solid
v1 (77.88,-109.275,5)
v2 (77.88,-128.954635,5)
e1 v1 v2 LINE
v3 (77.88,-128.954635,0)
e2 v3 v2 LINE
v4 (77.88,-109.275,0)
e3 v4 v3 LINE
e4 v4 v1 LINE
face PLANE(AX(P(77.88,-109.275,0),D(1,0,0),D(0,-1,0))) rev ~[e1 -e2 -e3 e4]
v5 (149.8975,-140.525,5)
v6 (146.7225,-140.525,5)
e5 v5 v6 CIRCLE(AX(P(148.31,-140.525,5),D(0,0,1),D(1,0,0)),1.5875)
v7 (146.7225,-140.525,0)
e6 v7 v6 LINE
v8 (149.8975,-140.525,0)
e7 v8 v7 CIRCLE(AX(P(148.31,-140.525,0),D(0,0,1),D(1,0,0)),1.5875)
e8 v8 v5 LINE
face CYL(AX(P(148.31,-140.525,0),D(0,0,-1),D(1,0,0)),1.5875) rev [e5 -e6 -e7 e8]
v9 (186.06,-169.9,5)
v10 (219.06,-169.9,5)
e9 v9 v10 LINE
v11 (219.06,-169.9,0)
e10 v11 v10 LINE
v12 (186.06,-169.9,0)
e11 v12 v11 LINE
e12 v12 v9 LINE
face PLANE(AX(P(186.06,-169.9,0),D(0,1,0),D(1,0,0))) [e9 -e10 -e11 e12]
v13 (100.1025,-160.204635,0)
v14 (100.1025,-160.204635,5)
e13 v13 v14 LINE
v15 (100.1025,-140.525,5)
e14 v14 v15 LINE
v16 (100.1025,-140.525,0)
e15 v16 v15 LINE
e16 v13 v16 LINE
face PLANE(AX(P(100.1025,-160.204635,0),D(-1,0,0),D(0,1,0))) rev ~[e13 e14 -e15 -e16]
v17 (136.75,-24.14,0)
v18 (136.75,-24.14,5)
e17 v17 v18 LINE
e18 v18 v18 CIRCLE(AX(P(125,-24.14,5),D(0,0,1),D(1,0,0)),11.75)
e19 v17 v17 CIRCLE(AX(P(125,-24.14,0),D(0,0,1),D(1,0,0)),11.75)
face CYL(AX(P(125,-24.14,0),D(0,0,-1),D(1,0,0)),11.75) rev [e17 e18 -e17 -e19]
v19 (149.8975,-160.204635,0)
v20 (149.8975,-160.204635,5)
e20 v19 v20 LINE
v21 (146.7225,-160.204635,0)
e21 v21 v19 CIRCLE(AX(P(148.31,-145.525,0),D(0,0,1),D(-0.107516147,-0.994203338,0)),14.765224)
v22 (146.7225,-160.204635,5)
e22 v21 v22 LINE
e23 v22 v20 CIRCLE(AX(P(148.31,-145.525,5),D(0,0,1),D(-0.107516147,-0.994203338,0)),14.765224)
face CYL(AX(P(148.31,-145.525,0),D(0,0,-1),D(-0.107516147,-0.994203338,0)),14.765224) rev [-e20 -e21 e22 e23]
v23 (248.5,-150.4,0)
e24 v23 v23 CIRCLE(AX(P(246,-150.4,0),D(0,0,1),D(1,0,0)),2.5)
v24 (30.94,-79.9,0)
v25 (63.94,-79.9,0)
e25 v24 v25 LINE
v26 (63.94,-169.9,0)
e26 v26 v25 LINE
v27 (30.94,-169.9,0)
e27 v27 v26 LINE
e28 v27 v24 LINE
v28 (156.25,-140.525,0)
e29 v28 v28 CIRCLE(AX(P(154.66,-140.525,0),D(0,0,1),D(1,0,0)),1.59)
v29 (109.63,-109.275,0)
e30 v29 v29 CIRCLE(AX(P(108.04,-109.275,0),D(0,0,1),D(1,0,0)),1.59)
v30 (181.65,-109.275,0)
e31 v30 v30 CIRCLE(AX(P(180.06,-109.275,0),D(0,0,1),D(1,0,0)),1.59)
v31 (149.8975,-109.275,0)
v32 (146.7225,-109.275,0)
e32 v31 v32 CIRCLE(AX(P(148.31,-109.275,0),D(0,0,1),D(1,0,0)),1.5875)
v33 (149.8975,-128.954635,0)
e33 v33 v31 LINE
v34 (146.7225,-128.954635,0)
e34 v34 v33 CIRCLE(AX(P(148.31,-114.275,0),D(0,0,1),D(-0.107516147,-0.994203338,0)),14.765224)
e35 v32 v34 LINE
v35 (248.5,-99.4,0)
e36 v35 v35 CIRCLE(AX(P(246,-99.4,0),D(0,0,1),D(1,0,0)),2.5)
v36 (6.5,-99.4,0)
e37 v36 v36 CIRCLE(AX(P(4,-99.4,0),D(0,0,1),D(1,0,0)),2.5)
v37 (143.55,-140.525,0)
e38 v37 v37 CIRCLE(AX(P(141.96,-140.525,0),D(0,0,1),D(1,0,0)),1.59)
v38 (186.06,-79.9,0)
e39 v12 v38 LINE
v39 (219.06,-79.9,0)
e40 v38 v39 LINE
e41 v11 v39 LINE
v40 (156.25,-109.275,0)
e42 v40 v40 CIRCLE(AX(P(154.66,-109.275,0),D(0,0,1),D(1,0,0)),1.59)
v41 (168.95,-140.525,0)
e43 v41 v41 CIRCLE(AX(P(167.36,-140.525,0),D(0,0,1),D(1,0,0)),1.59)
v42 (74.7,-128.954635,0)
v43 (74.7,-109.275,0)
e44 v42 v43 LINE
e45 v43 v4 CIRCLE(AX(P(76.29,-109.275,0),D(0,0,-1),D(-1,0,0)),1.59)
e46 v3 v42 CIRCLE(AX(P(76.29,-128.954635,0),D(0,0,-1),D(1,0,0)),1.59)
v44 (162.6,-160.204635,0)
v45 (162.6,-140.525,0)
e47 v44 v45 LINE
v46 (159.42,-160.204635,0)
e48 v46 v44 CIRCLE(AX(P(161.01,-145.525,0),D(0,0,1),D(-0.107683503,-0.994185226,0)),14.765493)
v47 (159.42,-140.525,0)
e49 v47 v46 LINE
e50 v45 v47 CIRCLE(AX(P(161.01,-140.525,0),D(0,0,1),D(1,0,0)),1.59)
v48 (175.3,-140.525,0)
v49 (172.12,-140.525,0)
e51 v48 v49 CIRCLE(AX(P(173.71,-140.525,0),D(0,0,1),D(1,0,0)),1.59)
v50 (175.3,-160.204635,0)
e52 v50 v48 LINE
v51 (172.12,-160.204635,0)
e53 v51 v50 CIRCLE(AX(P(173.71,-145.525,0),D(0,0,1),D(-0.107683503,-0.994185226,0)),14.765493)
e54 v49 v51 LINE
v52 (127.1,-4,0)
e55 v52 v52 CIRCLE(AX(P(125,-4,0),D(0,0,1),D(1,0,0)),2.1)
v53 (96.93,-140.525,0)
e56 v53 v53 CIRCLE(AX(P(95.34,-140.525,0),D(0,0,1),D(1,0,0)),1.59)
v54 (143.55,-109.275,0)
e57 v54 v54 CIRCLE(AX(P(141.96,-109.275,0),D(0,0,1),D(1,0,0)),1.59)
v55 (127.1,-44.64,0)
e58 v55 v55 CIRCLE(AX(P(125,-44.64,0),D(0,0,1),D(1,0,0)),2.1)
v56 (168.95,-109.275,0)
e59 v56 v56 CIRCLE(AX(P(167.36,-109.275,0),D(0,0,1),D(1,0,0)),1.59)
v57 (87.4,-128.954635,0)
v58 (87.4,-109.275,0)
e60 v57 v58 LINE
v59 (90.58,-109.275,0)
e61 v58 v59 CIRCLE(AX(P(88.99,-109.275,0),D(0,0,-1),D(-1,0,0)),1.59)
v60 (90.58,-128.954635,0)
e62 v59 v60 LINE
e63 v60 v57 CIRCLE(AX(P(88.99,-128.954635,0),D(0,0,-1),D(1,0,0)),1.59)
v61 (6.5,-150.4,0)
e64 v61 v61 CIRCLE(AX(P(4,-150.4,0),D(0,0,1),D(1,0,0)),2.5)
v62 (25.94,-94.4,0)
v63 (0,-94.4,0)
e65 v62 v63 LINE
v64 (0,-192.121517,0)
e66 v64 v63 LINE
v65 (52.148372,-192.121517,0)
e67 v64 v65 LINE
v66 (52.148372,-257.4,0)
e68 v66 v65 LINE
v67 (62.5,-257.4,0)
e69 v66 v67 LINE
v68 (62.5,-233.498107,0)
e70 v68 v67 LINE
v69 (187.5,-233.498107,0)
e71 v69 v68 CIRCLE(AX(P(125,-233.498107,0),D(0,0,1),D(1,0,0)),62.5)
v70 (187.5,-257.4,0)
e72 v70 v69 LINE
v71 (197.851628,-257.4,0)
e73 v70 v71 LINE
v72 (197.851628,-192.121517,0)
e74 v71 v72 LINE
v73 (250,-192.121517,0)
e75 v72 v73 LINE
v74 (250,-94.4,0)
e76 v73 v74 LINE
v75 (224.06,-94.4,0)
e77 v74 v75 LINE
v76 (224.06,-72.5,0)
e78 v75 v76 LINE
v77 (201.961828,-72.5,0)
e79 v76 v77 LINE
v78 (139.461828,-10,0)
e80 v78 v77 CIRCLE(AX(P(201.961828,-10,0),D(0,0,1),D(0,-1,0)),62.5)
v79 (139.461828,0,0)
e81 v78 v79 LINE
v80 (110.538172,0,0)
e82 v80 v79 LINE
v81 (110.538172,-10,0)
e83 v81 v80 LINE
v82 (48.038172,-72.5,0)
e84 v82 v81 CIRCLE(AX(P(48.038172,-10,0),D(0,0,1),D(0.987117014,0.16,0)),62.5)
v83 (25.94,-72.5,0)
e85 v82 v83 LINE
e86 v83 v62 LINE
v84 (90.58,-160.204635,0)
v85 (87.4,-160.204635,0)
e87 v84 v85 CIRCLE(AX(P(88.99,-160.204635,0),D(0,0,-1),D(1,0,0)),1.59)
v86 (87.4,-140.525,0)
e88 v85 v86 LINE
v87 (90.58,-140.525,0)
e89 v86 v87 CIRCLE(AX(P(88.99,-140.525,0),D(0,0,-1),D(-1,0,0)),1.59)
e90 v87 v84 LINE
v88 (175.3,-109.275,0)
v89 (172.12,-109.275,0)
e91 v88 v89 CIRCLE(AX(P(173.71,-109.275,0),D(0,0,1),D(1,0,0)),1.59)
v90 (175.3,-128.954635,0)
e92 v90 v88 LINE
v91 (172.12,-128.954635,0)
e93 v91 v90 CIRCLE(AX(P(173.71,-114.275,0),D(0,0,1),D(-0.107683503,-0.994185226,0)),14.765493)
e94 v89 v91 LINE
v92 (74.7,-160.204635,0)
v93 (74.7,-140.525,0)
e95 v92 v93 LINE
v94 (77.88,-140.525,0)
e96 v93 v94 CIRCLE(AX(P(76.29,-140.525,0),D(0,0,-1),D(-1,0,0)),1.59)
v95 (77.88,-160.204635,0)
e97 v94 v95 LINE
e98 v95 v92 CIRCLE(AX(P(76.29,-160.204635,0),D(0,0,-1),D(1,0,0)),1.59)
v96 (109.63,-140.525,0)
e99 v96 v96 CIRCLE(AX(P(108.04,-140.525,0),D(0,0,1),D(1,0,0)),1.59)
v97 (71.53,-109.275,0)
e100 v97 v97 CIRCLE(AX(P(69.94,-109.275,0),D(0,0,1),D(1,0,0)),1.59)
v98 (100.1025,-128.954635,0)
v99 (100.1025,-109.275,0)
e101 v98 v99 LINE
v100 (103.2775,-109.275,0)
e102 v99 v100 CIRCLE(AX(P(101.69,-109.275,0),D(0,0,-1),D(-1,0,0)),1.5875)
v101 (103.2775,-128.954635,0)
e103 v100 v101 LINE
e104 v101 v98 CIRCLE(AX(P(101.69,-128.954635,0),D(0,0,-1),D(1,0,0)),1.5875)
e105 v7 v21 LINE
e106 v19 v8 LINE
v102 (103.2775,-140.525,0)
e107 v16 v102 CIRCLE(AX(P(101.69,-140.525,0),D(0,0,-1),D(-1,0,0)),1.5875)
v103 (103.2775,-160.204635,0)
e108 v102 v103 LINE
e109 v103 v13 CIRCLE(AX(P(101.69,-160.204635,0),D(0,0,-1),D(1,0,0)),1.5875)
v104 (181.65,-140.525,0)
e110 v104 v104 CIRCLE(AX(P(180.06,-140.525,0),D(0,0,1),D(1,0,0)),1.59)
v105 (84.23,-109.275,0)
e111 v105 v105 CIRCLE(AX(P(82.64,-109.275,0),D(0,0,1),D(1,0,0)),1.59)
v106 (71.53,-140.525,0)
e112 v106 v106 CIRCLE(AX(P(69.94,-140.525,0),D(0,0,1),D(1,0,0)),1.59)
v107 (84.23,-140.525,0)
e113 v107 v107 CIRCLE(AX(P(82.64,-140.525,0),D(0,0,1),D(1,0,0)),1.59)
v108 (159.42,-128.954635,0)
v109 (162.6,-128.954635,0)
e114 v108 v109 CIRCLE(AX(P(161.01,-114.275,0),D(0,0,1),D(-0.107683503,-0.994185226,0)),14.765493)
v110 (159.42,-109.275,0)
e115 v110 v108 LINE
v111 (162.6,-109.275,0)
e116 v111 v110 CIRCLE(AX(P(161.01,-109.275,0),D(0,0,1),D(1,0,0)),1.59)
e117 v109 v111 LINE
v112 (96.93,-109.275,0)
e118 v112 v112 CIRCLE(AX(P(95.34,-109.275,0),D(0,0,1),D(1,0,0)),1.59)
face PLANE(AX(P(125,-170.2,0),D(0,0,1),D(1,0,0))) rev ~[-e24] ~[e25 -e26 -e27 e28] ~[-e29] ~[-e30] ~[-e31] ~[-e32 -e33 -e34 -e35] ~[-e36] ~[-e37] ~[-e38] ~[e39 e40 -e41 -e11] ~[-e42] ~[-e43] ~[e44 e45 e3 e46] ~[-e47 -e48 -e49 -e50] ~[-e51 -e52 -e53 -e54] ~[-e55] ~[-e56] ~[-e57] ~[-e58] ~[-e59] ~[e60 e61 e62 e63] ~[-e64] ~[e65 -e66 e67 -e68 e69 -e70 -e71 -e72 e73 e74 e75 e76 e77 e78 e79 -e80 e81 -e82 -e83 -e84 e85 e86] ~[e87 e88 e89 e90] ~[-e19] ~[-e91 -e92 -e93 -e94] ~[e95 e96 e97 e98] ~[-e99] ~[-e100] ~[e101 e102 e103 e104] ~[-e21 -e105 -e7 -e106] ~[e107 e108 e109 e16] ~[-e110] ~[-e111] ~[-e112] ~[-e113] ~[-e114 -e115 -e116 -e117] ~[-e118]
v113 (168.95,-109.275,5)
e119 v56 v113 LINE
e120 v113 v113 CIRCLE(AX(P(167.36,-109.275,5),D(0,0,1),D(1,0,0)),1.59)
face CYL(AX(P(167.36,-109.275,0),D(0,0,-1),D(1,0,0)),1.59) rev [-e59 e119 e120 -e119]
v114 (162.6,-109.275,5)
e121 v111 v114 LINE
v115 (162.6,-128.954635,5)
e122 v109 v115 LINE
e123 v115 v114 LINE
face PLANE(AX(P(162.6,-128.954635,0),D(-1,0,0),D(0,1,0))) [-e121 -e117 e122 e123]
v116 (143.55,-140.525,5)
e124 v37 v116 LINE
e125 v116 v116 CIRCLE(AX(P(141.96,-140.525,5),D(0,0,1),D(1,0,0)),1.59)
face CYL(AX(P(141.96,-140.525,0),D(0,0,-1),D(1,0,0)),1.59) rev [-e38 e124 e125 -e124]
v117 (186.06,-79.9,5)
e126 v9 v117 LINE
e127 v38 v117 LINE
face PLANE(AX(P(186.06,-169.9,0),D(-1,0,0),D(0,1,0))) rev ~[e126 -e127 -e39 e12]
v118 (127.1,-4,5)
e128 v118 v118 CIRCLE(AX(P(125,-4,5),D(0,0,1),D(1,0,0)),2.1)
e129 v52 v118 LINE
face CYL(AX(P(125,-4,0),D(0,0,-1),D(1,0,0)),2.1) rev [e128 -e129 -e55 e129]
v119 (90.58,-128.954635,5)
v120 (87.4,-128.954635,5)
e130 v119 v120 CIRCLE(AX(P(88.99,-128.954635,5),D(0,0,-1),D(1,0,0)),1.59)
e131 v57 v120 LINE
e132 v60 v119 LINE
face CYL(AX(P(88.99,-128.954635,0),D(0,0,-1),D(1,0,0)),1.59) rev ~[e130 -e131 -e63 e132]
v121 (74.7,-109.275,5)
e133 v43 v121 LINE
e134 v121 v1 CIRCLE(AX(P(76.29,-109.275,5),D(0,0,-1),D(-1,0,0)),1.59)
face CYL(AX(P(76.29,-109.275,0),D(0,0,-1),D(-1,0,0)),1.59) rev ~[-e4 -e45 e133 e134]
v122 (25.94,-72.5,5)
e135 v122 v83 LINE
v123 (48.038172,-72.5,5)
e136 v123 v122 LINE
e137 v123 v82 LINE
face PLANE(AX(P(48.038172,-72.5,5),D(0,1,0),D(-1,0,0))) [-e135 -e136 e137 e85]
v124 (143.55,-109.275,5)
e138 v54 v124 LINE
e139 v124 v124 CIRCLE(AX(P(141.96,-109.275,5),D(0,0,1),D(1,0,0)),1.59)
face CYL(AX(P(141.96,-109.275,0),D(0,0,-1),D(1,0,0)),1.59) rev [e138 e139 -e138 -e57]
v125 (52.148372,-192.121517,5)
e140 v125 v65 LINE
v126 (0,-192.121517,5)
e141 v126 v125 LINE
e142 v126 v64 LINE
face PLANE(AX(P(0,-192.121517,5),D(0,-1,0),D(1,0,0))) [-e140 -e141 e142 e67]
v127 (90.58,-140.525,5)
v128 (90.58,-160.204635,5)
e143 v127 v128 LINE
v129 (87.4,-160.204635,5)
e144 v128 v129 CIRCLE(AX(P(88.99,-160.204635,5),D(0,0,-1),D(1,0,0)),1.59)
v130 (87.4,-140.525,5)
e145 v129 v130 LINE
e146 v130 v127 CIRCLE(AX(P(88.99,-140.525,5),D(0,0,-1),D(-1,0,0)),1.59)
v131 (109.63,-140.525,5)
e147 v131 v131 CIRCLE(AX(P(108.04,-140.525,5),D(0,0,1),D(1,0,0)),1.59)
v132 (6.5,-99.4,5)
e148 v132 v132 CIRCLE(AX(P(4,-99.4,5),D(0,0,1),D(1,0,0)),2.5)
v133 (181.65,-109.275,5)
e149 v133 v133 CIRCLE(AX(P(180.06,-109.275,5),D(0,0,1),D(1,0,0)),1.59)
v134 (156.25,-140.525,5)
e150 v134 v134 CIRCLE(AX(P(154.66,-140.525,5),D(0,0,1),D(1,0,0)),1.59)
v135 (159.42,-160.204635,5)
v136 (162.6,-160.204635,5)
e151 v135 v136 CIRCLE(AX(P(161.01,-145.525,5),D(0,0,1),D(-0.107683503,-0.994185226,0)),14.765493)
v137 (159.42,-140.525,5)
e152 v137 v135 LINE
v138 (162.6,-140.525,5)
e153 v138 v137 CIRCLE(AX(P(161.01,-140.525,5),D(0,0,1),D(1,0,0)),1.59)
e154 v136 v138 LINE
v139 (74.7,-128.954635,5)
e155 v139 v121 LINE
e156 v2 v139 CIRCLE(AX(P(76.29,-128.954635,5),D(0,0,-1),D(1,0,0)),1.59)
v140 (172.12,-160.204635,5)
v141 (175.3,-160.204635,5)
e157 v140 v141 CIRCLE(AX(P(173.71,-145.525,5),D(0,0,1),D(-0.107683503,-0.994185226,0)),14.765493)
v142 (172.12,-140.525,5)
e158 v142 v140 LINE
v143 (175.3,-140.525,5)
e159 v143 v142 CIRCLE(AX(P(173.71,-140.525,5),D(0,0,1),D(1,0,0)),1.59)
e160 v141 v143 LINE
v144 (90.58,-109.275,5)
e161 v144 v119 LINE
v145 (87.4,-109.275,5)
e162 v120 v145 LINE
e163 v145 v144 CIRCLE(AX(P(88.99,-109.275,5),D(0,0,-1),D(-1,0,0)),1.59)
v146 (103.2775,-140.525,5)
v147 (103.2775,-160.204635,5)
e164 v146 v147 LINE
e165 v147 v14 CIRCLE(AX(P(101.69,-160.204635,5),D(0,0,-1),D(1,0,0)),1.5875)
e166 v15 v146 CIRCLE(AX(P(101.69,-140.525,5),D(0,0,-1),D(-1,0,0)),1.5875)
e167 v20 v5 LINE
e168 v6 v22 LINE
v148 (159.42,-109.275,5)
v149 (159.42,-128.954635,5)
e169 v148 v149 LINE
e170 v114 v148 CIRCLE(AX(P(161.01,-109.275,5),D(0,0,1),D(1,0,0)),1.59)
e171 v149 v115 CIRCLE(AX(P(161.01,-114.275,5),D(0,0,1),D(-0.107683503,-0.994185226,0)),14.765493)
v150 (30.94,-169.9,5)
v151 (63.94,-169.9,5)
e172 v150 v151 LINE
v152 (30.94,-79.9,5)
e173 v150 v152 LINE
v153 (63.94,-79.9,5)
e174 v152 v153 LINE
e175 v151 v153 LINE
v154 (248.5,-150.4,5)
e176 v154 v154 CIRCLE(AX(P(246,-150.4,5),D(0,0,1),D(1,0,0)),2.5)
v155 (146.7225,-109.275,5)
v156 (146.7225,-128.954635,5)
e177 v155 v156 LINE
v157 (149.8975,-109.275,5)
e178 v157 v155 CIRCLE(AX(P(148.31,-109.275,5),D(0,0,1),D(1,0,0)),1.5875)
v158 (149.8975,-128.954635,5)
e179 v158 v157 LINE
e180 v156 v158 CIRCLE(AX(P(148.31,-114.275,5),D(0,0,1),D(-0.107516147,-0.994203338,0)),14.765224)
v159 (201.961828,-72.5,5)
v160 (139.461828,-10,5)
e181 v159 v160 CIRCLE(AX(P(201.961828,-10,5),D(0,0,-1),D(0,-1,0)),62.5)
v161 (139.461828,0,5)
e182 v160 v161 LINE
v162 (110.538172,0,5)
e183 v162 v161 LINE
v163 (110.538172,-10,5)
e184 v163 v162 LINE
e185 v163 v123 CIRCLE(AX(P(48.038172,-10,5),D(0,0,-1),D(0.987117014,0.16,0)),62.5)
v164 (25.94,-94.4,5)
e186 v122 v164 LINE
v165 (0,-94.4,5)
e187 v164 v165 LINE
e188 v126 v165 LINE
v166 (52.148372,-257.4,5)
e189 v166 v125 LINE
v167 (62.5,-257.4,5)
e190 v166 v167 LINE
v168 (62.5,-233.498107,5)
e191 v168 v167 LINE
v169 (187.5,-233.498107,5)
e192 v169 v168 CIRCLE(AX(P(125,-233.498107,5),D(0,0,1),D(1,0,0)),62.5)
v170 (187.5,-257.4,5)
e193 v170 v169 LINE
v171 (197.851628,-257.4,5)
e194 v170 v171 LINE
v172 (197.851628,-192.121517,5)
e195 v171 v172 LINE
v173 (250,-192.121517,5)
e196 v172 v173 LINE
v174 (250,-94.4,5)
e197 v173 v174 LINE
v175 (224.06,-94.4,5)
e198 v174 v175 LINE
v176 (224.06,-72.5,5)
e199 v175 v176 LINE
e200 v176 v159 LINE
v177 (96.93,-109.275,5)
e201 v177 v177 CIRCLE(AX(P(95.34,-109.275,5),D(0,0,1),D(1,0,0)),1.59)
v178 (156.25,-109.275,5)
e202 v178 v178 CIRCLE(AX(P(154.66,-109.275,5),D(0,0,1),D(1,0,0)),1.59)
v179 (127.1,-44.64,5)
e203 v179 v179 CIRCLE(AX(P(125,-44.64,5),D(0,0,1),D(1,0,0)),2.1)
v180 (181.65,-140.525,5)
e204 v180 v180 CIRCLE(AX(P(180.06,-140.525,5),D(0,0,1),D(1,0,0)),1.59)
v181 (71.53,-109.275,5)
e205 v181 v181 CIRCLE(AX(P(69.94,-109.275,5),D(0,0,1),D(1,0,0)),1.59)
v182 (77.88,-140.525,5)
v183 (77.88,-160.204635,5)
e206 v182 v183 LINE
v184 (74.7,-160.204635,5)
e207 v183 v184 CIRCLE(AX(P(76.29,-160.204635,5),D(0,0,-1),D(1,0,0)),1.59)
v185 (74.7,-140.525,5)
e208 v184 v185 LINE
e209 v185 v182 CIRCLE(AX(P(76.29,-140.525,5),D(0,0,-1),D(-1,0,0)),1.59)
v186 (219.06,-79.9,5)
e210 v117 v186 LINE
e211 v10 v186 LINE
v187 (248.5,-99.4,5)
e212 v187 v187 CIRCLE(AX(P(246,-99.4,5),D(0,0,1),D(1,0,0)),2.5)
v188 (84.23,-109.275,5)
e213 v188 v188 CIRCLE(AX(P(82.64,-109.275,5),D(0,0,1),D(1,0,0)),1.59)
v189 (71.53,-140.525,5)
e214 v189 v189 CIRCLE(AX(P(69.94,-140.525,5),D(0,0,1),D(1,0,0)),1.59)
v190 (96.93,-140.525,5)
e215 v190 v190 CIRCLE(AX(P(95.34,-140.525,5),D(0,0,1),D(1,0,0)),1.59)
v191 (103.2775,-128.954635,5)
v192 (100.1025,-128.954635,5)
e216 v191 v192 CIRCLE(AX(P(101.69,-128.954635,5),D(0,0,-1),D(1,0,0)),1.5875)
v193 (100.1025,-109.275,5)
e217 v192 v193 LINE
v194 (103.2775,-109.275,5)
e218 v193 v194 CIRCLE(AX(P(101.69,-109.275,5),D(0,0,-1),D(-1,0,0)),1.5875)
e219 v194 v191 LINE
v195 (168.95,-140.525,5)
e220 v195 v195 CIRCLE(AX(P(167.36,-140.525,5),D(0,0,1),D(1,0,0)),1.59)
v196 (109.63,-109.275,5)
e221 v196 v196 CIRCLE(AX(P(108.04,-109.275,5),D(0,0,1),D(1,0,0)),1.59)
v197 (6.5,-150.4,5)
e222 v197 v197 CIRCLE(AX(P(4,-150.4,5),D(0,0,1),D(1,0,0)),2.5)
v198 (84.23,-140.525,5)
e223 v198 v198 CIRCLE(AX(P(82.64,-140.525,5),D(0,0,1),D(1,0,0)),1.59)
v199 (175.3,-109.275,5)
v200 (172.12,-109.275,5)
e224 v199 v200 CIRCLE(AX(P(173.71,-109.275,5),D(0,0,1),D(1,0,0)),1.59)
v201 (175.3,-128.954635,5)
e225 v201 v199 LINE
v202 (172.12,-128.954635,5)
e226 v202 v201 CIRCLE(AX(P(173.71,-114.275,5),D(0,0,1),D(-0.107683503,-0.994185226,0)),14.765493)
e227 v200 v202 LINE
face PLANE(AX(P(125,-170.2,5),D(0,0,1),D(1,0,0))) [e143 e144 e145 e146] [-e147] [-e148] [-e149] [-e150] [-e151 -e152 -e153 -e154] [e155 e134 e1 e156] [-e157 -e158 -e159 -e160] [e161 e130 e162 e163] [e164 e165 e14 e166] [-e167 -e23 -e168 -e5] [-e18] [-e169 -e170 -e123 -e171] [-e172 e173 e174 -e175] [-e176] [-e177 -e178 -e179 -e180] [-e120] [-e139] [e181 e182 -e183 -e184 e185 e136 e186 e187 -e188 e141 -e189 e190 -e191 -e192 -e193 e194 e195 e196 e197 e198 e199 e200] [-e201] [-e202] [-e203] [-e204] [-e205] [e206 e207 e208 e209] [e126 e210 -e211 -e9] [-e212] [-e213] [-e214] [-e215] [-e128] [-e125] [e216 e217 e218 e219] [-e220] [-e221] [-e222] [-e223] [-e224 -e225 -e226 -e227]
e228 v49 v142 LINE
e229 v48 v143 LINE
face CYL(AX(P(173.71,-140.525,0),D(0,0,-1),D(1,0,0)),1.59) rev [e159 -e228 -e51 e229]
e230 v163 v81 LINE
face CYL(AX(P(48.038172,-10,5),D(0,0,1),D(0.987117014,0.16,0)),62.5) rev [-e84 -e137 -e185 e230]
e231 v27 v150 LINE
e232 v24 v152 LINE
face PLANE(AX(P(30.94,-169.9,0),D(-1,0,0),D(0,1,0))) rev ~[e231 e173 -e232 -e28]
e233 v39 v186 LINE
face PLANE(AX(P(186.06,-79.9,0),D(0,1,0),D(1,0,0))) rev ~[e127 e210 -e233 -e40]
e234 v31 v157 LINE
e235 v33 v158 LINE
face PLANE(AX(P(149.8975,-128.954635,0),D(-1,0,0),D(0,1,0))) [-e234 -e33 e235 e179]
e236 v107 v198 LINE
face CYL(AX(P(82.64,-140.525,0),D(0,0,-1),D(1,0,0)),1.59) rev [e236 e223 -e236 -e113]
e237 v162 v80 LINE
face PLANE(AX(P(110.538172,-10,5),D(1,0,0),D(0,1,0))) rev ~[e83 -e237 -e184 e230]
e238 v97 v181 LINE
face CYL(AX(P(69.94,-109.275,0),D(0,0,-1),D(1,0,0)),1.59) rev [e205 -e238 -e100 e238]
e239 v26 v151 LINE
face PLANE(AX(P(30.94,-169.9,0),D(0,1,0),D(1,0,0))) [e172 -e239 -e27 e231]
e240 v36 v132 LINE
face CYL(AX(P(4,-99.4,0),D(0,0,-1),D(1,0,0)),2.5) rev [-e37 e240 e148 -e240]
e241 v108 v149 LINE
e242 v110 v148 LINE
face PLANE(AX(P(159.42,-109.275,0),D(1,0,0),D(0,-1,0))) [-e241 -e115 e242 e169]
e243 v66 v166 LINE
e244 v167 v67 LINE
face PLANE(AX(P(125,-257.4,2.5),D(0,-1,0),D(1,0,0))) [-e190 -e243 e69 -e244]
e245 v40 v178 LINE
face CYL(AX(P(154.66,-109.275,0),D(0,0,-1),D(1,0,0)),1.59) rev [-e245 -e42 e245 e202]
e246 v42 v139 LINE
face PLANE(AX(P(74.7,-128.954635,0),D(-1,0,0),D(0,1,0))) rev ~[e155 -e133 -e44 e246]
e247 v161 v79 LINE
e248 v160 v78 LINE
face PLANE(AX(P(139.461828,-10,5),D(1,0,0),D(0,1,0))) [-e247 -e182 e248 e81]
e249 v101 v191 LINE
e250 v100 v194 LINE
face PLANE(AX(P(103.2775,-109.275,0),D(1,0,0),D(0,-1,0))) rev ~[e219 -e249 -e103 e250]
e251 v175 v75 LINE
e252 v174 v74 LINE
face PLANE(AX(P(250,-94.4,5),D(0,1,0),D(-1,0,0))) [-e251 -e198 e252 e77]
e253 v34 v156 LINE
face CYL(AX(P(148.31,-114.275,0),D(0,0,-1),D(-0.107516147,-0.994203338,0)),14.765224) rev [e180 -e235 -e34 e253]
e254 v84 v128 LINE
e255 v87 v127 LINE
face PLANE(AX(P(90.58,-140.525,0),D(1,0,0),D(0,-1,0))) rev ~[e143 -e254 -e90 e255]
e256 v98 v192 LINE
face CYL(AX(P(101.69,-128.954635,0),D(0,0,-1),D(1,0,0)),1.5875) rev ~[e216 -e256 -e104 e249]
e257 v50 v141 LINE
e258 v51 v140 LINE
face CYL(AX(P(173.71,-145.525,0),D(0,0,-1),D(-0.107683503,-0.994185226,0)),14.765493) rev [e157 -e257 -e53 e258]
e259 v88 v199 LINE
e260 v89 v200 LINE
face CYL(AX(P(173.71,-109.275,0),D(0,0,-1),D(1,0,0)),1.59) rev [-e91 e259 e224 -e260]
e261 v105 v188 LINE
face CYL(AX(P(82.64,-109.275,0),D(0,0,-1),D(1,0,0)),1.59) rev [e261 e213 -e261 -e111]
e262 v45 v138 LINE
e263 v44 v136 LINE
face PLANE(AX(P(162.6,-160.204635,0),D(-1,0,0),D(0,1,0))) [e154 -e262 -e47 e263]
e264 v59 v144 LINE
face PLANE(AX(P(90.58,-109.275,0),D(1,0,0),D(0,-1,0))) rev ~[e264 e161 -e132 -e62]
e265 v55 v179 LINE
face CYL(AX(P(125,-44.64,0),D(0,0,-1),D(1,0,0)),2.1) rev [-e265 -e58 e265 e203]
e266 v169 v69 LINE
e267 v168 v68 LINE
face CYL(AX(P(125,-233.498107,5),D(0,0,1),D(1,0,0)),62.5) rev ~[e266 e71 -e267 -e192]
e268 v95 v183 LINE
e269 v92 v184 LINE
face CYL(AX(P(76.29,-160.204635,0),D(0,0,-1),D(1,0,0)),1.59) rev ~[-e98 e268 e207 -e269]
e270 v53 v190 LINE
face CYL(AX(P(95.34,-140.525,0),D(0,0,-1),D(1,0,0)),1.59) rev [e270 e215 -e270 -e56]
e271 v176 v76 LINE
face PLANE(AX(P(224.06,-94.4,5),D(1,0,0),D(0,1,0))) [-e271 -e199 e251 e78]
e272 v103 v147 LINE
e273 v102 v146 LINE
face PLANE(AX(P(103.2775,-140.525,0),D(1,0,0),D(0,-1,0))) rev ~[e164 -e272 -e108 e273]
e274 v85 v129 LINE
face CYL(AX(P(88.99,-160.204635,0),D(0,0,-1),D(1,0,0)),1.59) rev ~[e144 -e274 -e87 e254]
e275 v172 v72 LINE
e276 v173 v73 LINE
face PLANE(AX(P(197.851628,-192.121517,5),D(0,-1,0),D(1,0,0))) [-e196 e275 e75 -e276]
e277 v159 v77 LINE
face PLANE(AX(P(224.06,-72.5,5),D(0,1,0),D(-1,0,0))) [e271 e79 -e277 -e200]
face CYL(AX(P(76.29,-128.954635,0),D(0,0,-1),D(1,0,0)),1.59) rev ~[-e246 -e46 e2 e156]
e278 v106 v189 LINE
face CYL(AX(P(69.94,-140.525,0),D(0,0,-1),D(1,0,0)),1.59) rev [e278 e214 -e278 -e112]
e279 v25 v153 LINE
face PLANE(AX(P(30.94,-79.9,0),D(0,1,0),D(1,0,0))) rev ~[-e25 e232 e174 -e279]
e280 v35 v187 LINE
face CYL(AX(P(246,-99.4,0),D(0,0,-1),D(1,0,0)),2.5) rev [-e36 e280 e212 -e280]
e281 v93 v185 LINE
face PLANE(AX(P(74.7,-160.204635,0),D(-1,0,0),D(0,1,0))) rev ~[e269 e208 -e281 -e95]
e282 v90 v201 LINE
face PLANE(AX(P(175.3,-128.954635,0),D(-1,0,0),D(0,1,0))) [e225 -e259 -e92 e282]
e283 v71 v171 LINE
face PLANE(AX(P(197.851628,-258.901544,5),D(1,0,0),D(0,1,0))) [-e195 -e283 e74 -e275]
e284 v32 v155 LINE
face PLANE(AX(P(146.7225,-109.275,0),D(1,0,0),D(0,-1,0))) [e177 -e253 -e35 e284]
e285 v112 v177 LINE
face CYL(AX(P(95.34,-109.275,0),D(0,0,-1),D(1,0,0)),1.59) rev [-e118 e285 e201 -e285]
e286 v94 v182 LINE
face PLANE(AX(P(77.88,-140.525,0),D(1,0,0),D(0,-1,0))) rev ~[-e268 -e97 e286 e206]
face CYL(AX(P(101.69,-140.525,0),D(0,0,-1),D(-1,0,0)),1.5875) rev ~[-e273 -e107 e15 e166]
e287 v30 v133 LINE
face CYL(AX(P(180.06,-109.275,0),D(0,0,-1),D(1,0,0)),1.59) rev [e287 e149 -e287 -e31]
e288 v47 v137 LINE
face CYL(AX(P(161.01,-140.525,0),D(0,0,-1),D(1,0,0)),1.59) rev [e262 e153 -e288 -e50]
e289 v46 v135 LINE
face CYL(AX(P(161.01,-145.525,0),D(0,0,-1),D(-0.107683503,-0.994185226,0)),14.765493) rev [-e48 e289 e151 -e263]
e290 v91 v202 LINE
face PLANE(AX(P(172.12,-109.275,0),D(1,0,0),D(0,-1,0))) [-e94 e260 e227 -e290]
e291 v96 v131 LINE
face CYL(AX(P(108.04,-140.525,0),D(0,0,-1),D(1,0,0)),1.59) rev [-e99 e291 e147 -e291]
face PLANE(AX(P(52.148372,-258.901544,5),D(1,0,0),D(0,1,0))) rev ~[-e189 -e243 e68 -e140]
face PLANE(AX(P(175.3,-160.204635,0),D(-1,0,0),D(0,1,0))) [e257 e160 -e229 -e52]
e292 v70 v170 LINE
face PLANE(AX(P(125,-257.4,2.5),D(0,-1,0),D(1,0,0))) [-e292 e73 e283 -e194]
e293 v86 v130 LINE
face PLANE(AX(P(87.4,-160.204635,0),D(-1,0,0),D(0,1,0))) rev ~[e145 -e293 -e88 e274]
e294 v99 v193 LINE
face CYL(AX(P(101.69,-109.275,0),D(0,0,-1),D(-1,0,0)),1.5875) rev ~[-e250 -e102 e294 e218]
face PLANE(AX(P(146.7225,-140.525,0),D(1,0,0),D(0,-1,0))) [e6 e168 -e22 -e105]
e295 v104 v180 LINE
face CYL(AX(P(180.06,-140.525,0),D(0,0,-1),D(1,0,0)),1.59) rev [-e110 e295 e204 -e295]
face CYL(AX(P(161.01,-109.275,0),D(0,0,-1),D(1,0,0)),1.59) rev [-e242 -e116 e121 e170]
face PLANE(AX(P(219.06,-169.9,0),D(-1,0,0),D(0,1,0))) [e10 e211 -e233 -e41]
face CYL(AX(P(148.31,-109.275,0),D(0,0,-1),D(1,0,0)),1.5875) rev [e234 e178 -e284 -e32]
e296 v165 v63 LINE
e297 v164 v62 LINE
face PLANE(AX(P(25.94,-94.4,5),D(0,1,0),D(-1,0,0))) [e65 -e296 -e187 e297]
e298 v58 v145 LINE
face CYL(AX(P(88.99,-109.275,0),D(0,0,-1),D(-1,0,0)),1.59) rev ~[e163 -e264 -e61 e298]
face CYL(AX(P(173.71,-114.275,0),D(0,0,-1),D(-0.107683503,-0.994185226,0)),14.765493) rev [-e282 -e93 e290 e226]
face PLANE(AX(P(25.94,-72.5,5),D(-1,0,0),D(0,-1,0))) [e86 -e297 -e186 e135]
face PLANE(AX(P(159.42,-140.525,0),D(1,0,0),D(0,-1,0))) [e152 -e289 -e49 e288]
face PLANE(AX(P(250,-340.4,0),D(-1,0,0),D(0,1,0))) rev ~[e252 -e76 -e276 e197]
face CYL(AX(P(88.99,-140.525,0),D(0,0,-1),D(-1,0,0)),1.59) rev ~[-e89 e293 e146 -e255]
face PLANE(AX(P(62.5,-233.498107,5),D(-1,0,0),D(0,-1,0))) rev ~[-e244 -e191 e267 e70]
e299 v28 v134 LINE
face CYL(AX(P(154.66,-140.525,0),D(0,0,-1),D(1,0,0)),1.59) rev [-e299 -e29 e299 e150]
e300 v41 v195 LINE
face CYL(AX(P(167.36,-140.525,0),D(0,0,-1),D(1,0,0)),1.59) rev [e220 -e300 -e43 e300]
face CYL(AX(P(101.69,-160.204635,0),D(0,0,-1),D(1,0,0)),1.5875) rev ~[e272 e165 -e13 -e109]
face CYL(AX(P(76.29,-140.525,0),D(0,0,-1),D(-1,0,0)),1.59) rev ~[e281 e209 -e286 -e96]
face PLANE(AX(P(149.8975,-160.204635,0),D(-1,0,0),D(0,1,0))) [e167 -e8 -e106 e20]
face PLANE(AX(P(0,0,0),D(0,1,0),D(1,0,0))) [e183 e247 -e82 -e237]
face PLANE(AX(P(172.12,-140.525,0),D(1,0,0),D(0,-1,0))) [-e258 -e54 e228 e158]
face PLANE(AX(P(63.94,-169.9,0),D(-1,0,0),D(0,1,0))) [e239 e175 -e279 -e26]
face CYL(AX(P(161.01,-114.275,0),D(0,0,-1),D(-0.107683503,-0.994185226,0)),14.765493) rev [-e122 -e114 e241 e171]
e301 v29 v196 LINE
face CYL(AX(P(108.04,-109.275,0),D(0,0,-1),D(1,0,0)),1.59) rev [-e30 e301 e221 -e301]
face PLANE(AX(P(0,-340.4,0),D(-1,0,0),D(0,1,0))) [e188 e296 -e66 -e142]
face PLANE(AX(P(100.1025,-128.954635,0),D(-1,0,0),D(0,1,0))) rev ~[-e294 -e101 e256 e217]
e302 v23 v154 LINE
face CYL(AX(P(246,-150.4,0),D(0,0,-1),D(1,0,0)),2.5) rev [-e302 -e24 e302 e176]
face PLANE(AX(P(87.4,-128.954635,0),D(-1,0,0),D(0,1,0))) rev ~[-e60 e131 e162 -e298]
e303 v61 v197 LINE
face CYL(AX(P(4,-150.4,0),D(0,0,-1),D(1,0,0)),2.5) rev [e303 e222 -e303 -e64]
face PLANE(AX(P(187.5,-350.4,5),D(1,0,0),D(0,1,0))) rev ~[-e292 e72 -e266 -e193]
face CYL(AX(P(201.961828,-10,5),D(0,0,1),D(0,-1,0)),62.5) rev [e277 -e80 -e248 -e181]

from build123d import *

# Parameters (mm, degrees)
SKETCH1_W           = 250
SKETCH1_H           = 340.4
SKETCH1_R           = 2.1
SKETCH1_R_2         = 2.5
SKETCH1_R_3         = 1.59
SKETCH1_R_4         = 11.75
SKETCH1_W_2         = 33
SKETCH1_H_2         = 90
BOSS_EXTRUDE1_DEPTH = 5
SKETCH12_W          = 250
SKETCH12_H          = 5
CUT_EXTRUDE2_DEPTH  = 83
CUT_EXTRUDE3_DEPTH  = 6
SKETCH15_W          = 30.082256647
SKETCH15_H          = 10
SKETCH15_W_2        = 26.03414052
CUT_EXTRUDE4_DEPTH  = 10
SKETCH17_W          = 52.148371748
SKETCH17_H          = 66.780027045
CUT_EXTRUDE5_DEPTH  = 10


with BuildPart() as part:
    # Sketch1 → Boss-Extrude1 (new body)
    with BuildSketch(Plane.XY):
        with Locations((125, -170.2)):
            Rectangle(SKETCH1_W, SKETCH1_H)
        with Locations((125, -44.64)):
            Circle(SKETCH1_R, mode=Mode.SUBTRACT)
        with Locations((125, -4)):
            Circle(SKETCH1_R, mode=Mode.SUBTRACT)
        with Locations((246, -99.4)):
            Circle(SKETCH1_R_2, mode=Mode.SUBTRACT)
        with Locations((246, -150.4)):
            Circle(SKETCH1_R_2, mode=Mode.SUBTRACT)
        with Locations((180.06, -109.275)):
            Circle(SKETCH1_R_3, mode=Mode.SUBTRACT)
        with Locations((180.06, -140.525)):
            Circle(SKETCH1_R_3, mode=Mode.SUBTRACT)
        with Locations((125, -24.14)):
            Circle(SKETCH1_R_4, mode=Mode.SUBTRACT)
        with Locations((141.96, -109.275)):
            Circle(SKETCH1_R_3, mode=Mode.SUBTRACT)
        with Locations((154.66, -109.275)):
            Circle(SKETCH1_R_3, mode=Mode.SUBTRACT)
        with Locations((167.36, -109.275)):
            Circle(SKETCH1_R_3, mode=Mode.SUBTRACT)
        with Locations((141.96, -140.525)):
            Circle(SKETCH1_R_3, mode=Mode.SUBTRACT)
        with Locations((154.66, -140.525)):
            Circle(SKETCH1_R_3, mode=Mode.SUBTRACT)
        with Locations((167.36, -140.525)):
            Circle(SKETCH1_R_3, mode=Mode.SUBTRACT)
        with Locations((82.64, -140.525)):
            Circle(SKETCH1_R_3, mode=Mode.SUBTRACT)
        with Locations((95.34, -140.525)):
            Circle(SKETCH1_R_3, mode=Mode.SUBTRACT)
        with Locations((108.04, -140.525)):
            Circle(SKETCH1_R_3, mode=Mode.SUBTRACT)
        with Locations((82.64, -109.275)):
            Circle(SKETCH1_R_3, mode=Mode.SUBTRACT)
        with Locations((95.34, -109.275)):
            Circle(SKETCH1_R_3, mode=Mode.SUBTRACT)
        with Locations((108.04, -109.275)):
            Circle(SKETCH1_R_3, mode=Mode.SUBTRACT)
        with Locations((69.94, -140.525)):
            Circle(SKETCH1_R_3, mode=Mode.SUBTRACT)
        with Locations((69.94, -109.275)):
            Circle(SKETCH1_R_3, mode=Mode.SUBTRACT)
        with Locations((4, -150.4)):
            Circle(SKETCH1_R_2, mode=Mode.SUBTRACT)
        with Locations((4, -99.4)):
            Circle(SKETCH1_R_2, mode=Mode.SUBTRACT)
        with Locations((202.56, -124.9)):
            Rectangle(SKETCH1_W_2, SKETCH1_H_2, mode=Mode.SUBTRACT)
        with BuildLine():
            Line((146.7225, -109.275), (146.7225, -128.954634918))
            ThreePointArc((146.7225, -128.954634918), (148.31, -129.040223925), (149.8975, -128.954634918))
            Line((149.8975, -128.954634918), (149.8975, -109.275))
            ThreePointArc((149.8975, -109.275), (148.31, -107.6875), (146.7225, -109.275))
        make_face(mode=Mode.SUBTRACT)
        with BuildLine():
            Line((159.42, -109.275), (159.42, -128.954634918))
            ThreePointArc((159.42, -128.954634918), (161.01, -129.040492925), (162.6, -128.954634918))
            Line((162.6, -128.954634918), (162.6, -109.275))
            ThreePointArc((162.6, -109.275), (161.01, -107.685), (159.42, -109.275))
        make_face(mode=Mode.SUBTRACT)
        with BuildLine():
            Line((172.12, -109.275), (172.12, -128.954634918))
            ThreePointArc((172.12, -128.954634918), (173.71, -129.040492925), (175.3, -128.954634918))
            Line((175.3, -128.954634918), (175.3, -109.275))
            ThreePointArc((175.3, -109.275), (173.71, -107.685), (172.12, -109.275))
        make_face(mode=Mode.SUBTRACT)
        with BuildLine():
            Line((146.7225, -140.525), (146.7225, -160.204634918))
            ThreePointArc((146.7225, -160.204634918), (148.31, -160.290223925), (149.8975, -160.204634918))
            Line((149.8975, -160.204634918), (149.8975, -140.525))
            ThreePointArc((149.8975, -140.525), (148.31, -138.9375), (146.7225, -140.525))
        make_face(mode=Mode.SUBTRACT)
        with BuildLine():
            Line((159.42, -140.525), (159.42, -160.204634918))
            ThreePointArc((159.42, -160.204634918), (161.01, -160.290492925), (162.6, -160.204634918))
            Line((162.6, -160.204634918), (162.6, -140.525))
            ThreePointArc((162.6, -140.525), (161.01, -138.935), (159.42, -140.525))
        make_face(mode=Mode.SUBTRACT)
        with BuildLine():
            Line((172.12, -140.525), (172.12, -160.204634918))
            ThreePointArc((172.12, -160.204634918), (173.71, -160.290492925), (175.3, -160.204634918))
            Line((175.3, -160.204634918), (175.3, -140.525))
            ThreePointArc((175.3, -140.525), (173.71, -138.935), (172.12, -140.525))
        make_face(mode=Mode.SUBTRACT)
        with BuildLine():
            Line((103.2775, -109.275), (103.2775, -128.954634918))
            ThreePointArc((103.2775, -128.954634918), (101.69, -130.542134918), (100.1025, -128.954634918))
            Line((100.1025, -128.954634918), (100.1025, -109.275))
            ThreePointArc((100.1025, -109.275), (101.69, -107.6875), (103.2775, -109.275))
        make_face(mode=Mode.SUBTRACT)
        with BuildLine():
            Line((90.58, -109.275), (90.58, -128.954634918))
            ThreePointArc((90.58, -128.954634918), (88.99, -130.544634918), (87.4, -128.954634918))
            Line((87.4, -128.954634918), (87.4, -109.275))
            ThreePointArc((87.4, -109.275), (88.99, -107.685), (90.58, -109.275))
        make_face(mode=Mode.SUBTRACT)
        with BuildLine():
            Line((77.88, -109.275), (77.88, -128.954634918))
            ThreePointArc((77.88, -128.954634918), (76.29, -130.544634918), (74.7, -128.954634918))
            Line((74.7, -128.954634918), (74.7, -109.275))
            ThreePointArc((74.7, -109.275), (76.29, -107.685), (77.88, -109.275))
        make_face(mode=Mode.SUBTRACT)
        with BuildLine():
            Line((103.2775, -140.525), (103.2775, -160.204634918))
            ThreePointArc((103.2775, -160.204634918), (101.69, -161.792134918), (100.1025, -160.204634918))
            Line((100.1025, -160.204634918), (100.1025, -140.525))
            ThreePointArc((100.1025, -140.525), (101.69, -138.9375), (103.2775, -140.525))
        make_face(mode=Mode.SUBTRACT)
        with BuildLine():
            Line((90.58, -140.525), (90.58, -160.204634918))
            ThreePointArc((90.58, -160.204634918), (88.99, -161.794634918), (87.4, -160.204634918))
            Line((87.4, -160.204634918), (87.4, -140.525))
            ThreePointArc((87.4, -140.525), (88.99, -138.935), (90.58, -140.525))
        make_face(mode=Mode.SUBTRACT)
        with BuildLine():
            Line((77.88, -140.525), (77.88, -160.204634918))
            ThreePointArc((77.88, -160.204634918), (76.29, -161.794634918), (74.7, -160.204634918))
            Line((74.7, -160.204634918), (74.7, -140.525))
            ThreePointArc((74.7, -140.525), (76.29, -138.935), (77.88, -140.525))
        make_face(mode=Mode.SUBTRACT)
        with Locations((47.44, -124.9)):
            Rectangle(SKETCH1_W_2, SKETCH1_H_2, mode=Mode.SUBTRACT)
    extrude(amount=BOSS_EXTRUDE1_DEPTH)

    # Sketch12 → Cut-Extrude2 (cut)
    with BuildSketch(Plane.XZ.offset(340.4)):
        with Locations((125, 2.5)):
            Rectangle(SKETCH12_W, SKETCH12_H)
    extrude(amount=-CUT_EXTRUDE2_DEPTH, mode=Mode.SUBTRACT)

    # Sketch13 → Cut-Extrude3 (cut, through all)
    with BuildSketch(Plane.XY.offset(5)):
        with BuildLine():
            Line((48.038172449, -72.5), (25.94, -72.5))
            Line((25.94, -72.5), (25.94, -94.4))
            Line((25.94, -94.4), (0, -94.4))
            Line((0, -94.4), (0, 0))
            Line((0, 0), (109.732985845, 0))
            ThreePointArc((109.732985845, 0), (95.636754361, -50.504629365), (48.038172449, -72.5))
        make_face()
        with BuildLine():
            Line((250, 0), (250, -94.4))
            Line((250, -94.4), (224.06, -94.4))
            Line((224.06, -94.4), (224.06, -72.5))
            Line((224.06, -72.5), (201.961827551, -72.5))
            ThreePointArc((201.961827551, -72.5), (154.363245639, -50.504629365), (140.267014155, 0))
            Line((140.267014155, 0), (250, 0))
        make_face()
        with BuildLine():
            Line((62.5, -233.498107088), (62.5, -350.4))
            Line((62.5, -350.4), (187.5, -350.4))
            Line((187.5, -350.4), (187.5, -233.498107088))
            ThreePointArc((187.5, -233.498107088), (125, -170.998107088), (62.5, -233.498107088))
        make_face()
    extrude(amount=-CUT_EXTRUDE3_DEPTH, mode=Mode.SUBTRACT)

    # Sketch15 → Cut-Extrude4 (cut)
    with BuildSketch(Plane.XY.offset(5)):
        with Locations((95.497044125, -5)):
            Rectangle(SKETCH15_W, SKETCH15_H)
        with Locations((152.478897811, -5)):
            Rectangle(SKETCH15_W_2, SKETCH15_H)
    extrude(amount=-CUT_EXTRUDE4_DEPTH, mode=Mode.SUBTRACT)

    # Sketch17 → Cut-Extrude5 (cut)
    with BuildSketch(Plane.XY.offset(5)):
        with Locations((223.925814126, -225.511530956)):
            Rectangle(SKETCH17_W, SKETCH17_H)
        with Locations((26.074185874, -225.511530956)):
            Rectangle(SKETCH17_W, SKETCH17_H)
    extrude(amount=-CUT_EXTRUDE5_DEPTH, mode=Mode.SUBTRACT)


solid = part.part
